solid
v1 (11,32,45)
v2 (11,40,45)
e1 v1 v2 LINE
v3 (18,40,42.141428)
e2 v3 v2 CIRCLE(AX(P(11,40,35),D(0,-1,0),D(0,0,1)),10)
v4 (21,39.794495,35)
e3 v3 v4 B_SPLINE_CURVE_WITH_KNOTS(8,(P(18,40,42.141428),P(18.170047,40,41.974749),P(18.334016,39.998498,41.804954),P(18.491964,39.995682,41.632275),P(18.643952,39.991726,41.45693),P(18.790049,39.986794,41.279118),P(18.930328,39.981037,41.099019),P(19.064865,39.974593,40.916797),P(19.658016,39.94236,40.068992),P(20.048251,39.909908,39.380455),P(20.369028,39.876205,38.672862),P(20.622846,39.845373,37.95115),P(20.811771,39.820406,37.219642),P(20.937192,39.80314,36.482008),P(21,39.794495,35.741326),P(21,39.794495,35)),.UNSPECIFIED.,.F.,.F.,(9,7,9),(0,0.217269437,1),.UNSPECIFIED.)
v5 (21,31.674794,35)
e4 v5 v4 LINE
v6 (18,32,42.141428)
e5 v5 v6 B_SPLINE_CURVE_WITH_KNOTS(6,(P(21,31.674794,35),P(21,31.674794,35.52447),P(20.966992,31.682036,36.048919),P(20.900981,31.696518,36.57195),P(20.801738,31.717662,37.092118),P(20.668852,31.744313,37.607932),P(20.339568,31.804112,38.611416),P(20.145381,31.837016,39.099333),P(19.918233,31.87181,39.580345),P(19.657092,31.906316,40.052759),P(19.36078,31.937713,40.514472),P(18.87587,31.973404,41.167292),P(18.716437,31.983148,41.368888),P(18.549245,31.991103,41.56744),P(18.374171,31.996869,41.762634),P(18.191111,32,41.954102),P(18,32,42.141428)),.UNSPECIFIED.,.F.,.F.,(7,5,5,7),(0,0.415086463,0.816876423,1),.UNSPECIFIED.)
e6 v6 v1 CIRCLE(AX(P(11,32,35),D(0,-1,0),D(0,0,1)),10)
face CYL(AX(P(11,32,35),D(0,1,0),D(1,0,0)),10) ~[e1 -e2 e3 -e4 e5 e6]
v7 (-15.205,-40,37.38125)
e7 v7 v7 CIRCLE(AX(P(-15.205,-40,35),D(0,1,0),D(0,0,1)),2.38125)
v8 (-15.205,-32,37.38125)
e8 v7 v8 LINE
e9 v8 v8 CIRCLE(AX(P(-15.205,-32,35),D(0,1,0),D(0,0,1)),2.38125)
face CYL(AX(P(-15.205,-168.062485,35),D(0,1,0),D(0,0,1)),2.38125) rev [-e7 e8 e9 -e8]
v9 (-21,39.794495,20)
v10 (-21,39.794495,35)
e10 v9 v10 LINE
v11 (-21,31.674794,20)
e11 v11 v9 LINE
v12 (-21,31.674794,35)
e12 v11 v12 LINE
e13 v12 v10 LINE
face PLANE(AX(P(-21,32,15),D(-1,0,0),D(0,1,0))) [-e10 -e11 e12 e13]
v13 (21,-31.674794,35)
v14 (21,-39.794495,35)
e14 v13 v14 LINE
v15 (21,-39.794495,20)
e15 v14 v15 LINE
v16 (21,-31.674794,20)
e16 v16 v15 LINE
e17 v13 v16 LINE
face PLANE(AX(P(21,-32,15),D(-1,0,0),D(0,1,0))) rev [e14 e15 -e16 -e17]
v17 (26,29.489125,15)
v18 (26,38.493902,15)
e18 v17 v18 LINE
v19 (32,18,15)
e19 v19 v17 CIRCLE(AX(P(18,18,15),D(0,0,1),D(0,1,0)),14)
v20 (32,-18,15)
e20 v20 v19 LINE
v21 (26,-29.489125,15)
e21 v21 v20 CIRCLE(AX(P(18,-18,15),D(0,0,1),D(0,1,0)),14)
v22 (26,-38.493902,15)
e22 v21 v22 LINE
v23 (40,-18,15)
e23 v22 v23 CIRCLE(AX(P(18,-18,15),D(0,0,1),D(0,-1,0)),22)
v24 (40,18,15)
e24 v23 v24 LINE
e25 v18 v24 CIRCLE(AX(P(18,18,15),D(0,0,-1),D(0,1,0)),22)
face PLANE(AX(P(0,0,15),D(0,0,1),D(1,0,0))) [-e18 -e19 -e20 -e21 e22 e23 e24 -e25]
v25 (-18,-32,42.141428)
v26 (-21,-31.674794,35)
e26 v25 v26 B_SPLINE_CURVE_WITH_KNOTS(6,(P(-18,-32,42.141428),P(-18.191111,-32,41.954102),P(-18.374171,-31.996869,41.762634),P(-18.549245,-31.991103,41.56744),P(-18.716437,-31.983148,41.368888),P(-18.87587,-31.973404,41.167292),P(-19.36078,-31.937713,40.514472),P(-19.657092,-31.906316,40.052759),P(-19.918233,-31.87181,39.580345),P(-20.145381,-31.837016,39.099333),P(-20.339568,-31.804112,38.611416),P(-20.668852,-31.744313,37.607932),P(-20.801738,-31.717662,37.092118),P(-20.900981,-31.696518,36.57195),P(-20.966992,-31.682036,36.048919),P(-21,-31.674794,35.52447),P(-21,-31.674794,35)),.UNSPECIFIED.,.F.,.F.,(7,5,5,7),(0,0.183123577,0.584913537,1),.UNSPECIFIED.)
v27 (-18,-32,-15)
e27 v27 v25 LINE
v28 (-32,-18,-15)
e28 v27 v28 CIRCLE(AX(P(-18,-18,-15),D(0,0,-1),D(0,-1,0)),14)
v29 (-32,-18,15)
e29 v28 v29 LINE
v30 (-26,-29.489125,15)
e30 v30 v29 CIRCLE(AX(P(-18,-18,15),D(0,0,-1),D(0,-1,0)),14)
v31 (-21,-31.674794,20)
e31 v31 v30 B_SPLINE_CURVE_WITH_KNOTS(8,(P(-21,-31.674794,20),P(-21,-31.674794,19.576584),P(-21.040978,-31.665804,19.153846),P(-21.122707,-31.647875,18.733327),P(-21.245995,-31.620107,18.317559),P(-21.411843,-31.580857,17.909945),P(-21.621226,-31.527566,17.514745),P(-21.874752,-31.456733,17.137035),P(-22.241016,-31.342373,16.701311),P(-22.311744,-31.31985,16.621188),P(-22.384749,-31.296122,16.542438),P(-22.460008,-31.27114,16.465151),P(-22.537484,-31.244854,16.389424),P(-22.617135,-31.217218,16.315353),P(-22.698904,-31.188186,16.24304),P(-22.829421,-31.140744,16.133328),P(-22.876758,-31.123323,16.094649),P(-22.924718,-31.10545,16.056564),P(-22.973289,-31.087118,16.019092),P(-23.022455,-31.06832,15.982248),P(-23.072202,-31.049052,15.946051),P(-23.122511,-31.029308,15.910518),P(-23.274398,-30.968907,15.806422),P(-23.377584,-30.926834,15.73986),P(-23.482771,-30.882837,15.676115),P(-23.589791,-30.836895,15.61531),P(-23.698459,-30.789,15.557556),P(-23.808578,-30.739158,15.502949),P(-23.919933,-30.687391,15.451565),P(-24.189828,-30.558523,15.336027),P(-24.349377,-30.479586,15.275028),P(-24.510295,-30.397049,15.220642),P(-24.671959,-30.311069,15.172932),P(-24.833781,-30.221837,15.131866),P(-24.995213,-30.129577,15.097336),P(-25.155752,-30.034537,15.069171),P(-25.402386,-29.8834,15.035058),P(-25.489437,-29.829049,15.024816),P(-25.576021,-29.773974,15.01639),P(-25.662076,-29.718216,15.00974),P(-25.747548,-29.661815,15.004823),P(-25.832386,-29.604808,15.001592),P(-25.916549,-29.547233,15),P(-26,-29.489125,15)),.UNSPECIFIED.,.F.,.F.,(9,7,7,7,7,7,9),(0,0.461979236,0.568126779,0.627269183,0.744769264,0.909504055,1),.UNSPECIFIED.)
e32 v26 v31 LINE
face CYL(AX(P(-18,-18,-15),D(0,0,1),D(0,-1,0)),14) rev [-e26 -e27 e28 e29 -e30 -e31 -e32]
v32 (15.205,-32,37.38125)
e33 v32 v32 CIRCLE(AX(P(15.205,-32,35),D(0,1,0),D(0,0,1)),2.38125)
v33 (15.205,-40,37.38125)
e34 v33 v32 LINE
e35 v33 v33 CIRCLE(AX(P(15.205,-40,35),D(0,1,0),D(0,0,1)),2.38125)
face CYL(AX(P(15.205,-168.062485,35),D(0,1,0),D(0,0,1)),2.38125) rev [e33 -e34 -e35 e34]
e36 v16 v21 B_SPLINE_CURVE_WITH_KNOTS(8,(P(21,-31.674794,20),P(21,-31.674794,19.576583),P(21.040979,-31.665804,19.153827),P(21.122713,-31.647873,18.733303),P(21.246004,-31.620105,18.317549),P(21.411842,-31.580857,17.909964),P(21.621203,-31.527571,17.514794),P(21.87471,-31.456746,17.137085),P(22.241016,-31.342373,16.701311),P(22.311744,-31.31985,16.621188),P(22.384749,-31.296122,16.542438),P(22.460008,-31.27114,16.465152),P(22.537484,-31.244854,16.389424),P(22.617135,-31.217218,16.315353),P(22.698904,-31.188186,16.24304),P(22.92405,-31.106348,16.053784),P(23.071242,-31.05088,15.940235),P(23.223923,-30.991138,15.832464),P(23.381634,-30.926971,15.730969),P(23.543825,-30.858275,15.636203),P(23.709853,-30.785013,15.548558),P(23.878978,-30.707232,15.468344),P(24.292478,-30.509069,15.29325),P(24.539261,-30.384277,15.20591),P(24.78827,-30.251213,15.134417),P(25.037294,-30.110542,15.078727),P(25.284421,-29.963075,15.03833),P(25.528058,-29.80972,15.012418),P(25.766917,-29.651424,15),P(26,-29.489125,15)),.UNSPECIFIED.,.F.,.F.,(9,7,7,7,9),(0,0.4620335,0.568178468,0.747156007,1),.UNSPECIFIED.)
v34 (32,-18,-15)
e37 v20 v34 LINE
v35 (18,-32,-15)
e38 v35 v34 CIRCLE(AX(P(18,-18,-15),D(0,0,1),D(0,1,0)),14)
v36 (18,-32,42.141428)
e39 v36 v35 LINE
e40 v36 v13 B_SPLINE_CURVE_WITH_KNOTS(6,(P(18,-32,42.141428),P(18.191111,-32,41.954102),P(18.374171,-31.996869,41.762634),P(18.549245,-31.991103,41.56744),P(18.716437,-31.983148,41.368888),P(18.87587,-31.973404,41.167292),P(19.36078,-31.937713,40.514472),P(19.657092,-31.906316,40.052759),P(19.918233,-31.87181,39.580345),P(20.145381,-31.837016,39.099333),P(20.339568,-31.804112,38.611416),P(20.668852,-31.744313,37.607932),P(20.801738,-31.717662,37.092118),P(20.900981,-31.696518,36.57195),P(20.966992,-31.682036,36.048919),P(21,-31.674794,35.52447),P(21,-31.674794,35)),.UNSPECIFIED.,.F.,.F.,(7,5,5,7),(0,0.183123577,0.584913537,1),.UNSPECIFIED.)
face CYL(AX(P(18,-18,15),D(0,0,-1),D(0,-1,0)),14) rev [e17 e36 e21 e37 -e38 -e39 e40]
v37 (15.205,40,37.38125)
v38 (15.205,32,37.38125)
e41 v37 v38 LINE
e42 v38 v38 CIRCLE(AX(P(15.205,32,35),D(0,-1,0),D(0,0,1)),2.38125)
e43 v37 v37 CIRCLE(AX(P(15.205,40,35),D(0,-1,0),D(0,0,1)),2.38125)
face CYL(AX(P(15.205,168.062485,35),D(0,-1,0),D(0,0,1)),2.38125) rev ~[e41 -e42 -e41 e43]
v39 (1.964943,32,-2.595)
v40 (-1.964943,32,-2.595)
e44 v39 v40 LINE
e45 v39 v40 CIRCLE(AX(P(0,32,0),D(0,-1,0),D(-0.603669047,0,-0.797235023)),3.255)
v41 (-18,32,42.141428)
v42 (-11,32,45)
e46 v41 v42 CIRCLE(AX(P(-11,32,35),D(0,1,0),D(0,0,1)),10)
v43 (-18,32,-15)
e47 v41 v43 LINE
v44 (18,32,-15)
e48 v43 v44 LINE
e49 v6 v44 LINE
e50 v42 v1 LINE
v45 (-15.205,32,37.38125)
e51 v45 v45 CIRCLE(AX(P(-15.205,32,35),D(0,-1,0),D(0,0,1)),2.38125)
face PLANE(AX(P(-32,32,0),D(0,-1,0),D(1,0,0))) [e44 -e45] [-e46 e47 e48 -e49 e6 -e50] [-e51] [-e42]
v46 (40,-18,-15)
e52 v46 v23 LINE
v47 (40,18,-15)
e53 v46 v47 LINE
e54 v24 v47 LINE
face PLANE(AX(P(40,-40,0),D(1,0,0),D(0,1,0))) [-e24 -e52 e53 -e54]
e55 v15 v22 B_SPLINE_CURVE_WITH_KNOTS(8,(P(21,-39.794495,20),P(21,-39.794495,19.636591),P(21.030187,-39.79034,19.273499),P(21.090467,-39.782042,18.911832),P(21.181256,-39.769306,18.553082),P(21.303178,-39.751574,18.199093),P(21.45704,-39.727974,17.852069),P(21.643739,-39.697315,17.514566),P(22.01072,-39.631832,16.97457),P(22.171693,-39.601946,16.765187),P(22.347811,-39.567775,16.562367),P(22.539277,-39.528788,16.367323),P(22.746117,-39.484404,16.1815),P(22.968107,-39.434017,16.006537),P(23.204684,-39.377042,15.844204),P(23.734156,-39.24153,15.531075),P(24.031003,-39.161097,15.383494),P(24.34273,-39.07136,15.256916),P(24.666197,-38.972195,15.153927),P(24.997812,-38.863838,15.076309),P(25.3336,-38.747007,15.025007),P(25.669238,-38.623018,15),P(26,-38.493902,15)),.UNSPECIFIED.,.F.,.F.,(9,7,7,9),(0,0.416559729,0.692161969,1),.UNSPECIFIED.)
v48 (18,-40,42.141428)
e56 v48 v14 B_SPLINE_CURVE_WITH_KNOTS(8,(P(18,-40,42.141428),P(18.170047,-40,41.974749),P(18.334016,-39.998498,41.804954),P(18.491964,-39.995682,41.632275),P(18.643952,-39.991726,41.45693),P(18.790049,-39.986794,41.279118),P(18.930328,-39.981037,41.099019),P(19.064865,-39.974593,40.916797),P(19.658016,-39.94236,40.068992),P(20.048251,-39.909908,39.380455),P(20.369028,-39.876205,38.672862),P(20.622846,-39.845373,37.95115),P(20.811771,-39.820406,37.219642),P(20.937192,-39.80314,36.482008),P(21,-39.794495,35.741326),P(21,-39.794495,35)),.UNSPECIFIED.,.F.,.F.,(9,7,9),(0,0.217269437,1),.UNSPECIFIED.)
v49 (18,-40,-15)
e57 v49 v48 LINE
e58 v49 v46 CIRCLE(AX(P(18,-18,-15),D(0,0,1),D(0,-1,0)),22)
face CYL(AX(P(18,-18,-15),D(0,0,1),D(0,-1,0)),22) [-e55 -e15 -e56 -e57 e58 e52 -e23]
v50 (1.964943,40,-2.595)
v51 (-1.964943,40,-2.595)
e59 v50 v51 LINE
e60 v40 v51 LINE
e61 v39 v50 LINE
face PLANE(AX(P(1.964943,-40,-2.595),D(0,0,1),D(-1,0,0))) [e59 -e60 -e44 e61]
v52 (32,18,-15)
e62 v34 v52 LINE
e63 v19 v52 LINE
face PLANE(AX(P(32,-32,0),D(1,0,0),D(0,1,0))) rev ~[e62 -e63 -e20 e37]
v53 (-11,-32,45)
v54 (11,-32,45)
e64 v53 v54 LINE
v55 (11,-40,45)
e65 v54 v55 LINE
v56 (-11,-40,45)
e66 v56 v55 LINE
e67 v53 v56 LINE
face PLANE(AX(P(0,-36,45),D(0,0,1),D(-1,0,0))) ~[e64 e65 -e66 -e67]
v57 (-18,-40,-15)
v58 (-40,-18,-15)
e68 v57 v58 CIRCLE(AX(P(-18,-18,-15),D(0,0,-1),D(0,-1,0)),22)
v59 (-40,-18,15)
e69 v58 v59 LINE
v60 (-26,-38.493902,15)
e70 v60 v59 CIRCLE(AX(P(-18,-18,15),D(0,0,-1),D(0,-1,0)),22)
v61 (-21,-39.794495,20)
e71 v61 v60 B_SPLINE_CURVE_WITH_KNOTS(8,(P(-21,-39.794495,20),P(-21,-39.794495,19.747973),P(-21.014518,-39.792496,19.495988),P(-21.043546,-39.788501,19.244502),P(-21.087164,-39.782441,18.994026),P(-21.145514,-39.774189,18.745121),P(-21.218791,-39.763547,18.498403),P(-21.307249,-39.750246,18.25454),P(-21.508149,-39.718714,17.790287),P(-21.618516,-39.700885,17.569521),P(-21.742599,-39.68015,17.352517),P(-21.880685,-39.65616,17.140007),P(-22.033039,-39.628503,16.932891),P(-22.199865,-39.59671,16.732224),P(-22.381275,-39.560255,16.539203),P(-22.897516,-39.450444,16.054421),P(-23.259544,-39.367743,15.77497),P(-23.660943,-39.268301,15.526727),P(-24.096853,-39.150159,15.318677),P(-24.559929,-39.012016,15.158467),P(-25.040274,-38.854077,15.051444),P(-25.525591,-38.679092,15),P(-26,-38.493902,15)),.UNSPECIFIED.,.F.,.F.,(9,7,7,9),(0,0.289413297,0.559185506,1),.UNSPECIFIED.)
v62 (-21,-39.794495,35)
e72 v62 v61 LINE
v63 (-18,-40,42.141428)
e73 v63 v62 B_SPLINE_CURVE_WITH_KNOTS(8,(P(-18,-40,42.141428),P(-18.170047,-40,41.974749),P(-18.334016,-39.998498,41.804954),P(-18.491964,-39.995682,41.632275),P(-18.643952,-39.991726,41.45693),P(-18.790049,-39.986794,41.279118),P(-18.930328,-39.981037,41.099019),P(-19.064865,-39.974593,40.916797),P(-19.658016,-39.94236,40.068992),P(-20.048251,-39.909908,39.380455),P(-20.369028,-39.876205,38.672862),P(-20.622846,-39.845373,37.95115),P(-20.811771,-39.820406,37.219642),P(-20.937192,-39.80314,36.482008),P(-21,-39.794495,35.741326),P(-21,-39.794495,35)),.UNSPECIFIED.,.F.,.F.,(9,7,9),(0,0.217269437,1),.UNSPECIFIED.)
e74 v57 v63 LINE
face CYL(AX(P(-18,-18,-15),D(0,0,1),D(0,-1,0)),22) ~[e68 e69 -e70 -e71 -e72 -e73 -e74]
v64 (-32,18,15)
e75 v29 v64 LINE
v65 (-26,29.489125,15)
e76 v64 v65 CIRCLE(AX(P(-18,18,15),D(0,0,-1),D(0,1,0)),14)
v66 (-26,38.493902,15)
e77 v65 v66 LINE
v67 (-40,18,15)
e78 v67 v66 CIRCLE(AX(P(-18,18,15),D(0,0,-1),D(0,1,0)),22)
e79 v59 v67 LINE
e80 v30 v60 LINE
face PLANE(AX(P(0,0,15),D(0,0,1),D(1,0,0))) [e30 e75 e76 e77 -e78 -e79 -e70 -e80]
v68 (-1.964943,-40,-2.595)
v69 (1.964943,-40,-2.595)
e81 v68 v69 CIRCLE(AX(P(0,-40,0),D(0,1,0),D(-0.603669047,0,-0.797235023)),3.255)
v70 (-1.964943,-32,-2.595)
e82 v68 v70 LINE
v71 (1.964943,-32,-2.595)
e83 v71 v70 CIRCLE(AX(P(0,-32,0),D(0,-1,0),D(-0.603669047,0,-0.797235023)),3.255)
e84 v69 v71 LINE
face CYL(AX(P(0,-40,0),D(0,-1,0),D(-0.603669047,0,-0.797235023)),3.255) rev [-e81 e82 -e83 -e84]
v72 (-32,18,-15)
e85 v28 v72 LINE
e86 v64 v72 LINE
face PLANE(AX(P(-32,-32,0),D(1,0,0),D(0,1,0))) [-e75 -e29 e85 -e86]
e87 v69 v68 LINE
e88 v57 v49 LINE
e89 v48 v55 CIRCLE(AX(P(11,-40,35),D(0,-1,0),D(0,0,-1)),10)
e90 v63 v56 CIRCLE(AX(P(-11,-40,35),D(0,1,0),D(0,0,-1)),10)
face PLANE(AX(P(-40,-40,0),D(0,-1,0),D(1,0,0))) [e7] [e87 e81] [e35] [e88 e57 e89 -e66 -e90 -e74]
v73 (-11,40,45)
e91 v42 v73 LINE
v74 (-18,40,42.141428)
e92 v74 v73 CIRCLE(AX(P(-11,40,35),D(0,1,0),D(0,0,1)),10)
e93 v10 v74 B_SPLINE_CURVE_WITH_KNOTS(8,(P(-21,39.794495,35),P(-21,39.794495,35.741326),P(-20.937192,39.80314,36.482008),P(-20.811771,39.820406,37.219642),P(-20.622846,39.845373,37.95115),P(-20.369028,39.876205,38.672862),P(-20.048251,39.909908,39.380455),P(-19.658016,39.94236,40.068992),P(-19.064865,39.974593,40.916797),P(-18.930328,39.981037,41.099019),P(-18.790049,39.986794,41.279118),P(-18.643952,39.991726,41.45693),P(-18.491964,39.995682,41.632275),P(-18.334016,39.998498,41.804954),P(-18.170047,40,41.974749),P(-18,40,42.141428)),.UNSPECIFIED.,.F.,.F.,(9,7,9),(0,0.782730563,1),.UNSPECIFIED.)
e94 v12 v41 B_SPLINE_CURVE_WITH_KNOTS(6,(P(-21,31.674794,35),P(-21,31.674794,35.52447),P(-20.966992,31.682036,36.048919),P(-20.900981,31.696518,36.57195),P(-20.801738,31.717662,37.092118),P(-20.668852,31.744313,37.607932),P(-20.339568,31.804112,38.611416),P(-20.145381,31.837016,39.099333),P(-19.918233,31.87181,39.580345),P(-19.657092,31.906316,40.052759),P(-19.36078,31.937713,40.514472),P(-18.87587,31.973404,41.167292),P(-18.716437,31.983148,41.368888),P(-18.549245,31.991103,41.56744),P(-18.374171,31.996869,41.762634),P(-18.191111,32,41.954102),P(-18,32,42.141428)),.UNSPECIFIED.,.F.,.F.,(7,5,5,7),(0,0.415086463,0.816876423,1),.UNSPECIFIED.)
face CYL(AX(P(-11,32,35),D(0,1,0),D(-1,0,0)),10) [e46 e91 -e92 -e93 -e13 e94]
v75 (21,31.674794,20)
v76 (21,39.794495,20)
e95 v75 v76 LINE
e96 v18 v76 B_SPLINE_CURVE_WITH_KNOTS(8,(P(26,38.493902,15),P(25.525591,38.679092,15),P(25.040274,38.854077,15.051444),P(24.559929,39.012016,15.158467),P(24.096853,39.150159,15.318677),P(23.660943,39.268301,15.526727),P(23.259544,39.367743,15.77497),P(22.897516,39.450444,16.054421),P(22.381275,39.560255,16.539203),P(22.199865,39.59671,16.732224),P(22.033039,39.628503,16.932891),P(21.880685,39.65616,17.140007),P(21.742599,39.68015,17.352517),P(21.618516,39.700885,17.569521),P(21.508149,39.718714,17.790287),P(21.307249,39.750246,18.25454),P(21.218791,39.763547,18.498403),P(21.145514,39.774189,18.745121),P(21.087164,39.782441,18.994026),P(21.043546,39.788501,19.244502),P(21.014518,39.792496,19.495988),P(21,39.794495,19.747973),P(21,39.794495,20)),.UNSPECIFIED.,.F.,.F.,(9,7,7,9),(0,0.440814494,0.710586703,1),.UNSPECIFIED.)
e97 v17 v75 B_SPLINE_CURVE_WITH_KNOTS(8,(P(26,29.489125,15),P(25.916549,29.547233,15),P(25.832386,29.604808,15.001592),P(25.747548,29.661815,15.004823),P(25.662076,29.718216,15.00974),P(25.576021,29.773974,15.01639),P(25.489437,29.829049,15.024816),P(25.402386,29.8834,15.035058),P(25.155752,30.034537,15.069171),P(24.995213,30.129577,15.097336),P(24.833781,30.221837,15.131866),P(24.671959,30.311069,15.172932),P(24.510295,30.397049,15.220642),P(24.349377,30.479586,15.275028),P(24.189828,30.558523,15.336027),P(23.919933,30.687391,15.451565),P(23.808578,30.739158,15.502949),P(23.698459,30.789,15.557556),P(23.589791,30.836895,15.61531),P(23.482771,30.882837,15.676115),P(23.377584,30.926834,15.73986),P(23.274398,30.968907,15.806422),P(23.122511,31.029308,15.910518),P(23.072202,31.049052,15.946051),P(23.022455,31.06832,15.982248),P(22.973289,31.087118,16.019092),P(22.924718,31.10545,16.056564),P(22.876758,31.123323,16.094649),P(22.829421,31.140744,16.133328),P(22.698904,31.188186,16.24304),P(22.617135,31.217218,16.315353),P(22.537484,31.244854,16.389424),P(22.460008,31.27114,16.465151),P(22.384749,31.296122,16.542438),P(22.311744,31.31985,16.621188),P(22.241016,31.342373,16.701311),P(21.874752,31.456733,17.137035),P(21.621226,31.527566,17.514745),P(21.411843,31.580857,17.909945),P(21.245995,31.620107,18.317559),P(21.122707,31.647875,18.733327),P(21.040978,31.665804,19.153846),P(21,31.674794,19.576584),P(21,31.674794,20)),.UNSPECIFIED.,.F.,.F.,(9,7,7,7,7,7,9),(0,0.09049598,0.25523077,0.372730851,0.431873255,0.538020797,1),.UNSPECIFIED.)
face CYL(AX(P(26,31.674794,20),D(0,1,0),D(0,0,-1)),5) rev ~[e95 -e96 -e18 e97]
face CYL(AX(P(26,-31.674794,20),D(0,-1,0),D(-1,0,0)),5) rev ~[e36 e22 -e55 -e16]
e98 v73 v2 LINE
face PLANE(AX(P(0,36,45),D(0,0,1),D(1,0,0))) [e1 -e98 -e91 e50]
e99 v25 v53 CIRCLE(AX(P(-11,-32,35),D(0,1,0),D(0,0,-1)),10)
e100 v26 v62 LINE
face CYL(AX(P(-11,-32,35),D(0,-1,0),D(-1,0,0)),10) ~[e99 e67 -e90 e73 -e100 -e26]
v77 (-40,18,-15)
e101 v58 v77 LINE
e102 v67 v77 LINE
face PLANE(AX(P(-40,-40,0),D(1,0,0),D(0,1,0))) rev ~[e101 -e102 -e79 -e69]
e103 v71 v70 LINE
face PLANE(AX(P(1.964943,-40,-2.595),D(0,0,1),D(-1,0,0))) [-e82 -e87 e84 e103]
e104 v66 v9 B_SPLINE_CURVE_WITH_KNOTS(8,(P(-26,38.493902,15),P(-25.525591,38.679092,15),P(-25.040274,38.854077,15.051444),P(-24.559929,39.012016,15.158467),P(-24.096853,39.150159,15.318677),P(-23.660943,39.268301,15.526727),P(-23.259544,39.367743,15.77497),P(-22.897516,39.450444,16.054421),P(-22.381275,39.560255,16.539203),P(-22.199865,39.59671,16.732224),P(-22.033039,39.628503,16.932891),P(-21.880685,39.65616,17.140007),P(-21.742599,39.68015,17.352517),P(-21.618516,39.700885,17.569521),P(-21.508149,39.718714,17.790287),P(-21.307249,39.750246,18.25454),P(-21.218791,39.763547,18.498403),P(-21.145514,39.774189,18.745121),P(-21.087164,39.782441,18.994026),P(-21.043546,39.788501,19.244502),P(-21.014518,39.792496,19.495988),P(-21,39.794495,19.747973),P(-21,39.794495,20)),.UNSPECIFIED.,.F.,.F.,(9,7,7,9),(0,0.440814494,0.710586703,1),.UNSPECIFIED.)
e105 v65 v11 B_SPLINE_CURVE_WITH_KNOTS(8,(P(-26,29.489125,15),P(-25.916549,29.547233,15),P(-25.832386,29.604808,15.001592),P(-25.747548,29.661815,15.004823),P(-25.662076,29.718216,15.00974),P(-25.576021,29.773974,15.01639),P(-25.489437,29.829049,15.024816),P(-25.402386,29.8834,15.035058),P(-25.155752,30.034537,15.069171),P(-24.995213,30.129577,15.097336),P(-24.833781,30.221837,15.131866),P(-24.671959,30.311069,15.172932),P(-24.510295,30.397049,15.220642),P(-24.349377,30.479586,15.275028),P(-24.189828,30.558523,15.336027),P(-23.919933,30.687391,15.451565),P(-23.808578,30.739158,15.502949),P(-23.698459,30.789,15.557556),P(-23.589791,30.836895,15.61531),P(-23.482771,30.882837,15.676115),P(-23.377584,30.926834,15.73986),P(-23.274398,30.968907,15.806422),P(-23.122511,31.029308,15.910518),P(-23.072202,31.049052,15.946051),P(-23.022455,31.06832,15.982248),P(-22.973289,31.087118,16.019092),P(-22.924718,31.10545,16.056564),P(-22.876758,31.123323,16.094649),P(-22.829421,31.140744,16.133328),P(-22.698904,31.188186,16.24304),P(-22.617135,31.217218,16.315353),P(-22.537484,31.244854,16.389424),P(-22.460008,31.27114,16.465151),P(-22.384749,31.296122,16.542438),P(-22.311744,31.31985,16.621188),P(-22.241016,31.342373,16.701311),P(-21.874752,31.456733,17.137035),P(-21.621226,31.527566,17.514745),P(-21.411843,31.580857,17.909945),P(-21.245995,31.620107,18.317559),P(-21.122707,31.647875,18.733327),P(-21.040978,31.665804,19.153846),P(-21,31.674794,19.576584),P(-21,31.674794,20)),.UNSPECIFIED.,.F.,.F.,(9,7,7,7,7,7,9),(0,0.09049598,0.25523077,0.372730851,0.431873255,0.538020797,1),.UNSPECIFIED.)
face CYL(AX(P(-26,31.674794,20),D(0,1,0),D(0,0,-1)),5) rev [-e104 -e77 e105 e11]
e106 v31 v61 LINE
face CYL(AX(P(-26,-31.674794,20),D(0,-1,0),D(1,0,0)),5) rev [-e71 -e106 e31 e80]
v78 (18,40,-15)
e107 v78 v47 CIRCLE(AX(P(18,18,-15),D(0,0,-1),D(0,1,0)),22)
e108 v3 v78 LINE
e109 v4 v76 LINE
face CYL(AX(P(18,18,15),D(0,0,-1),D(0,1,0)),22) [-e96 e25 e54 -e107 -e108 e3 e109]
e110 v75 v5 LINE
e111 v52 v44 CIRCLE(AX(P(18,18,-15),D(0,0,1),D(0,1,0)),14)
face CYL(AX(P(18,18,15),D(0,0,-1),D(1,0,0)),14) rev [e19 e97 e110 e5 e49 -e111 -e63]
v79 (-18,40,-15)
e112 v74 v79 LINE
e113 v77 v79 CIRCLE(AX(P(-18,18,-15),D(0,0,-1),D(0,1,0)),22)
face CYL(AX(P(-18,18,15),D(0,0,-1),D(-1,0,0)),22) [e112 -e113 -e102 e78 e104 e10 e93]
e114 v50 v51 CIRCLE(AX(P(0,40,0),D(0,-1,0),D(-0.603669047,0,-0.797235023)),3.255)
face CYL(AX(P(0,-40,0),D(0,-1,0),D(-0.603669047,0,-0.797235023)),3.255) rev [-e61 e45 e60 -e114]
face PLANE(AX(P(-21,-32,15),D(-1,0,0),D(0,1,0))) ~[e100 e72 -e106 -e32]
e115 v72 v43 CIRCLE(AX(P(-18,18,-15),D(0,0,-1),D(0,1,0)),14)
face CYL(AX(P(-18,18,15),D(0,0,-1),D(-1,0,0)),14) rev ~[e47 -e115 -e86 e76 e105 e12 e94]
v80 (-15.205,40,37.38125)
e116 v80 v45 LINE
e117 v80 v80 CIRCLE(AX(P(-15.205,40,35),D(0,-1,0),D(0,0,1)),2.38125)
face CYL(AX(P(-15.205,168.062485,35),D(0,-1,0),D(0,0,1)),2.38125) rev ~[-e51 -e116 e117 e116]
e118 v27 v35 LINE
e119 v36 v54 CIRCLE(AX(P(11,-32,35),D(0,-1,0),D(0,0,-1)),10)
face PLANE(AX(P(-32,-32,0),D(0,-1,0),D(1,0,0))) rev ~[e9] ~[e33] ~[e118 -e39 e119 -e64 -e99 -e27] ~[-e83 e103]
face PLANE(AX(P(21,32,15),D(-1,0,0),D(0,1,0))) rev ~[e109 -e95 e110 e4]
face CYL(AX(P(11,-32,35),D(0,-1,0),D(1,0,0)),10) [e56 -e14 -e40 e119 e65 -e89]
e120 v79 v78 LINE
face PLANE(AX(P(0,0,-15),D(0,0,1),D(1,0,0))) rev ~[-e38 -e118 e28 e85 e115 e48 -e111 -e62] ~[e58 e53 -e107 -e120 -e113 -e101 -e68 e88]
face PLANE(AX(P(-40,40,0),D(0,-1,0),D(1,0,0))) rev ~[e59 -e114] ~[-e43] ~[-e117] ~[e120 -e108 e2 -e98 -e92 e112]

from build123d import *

# Parameters (mm, degrees)
ESQUISSE1_W                             = 80
ESQUISSE1_H                             = 80
ESQUISSE1_W_2                           = 64
ESQUISSE1_H_2                           = 64
BOSS_EXTRU_1_DEPTH                      = 15
ESQUISSE7_W                             = 42
ESQUISSE7_H                             = 8
BOSS_EXTRU_4_DEPTH                      = 30
PER_AGE_POUR_CROUS_AUTO_BLOQUANTS_300_D = 4.7625
CONG_1_R                                = 10
CONG_1_OF_SYM_TRIE2_R                   = 10
CONG_2_R                                = 22
CONG_3_R                                = 14
CONG_4_R                                = 5
ENL_V_MAT_EXTRU_3_DEPTH                 = 124.389626959


with BuildPart() as part:
    # Esquisse1 → Boss.-Extru.1 (new, symmetric)
    with BuildSketch(Plane.XY):
        Rectangle(ESQUISSE1_W, ESQUISSE1_H)
        Rectangle(ESQUISSE1_W_2, ESQUISSE1_H_2, mode=Mode.SUBTRACT)
    extrude(amount=BOSS_EXTRU_1_DEPTH, both=True)

    # Esquisse7 → Boss.-Extru.4 (add)
    with BuildSketch(Plane.XY.offset(15)):
        with Locations((0, 36)):
            Rectangle(ESQUISSE7_W, ESQUISSE7_H)
    boss_extru_4 = extrude(amount=BOSS_EXTRU_4_DEPTH)

    # Perçage pour écrous auto-bloquants 300® #6 (SP)1 (through all)
    with Locations(Plane(origin=(0, 40, 0), x_dir=(0, 0, -1), z_dir=(0, 1, 0))):
        with Locations((-35, -15.205), (-35, 15.205)):
            per_age_pour_crous_auto_bloquants_300 = Hole(PER_AGE_POUR_CROUS_AUTO_BLOQUANTS_300_D / 2)

    # Congé1
    cong_1_edges = [part.edges().sort_by_distance(p)[0] for p in [
        (21, 36, 45),
        (-21, 36, 45),
    ]]
    fillet(cong_1_edges, radius=CONG_1_R)

    # Symétrie2: Boss.-Extru.4, Perçage pour écrous auto-bloquants 300® #6 (SP)1 across plane
    add(boss_extru_4.mirror(Plane.ZX))
    add(per_age_pour_crous_auto_bloquants_300.mirror(Plane.ZX), mode=Mode.SUBTRACT)

    # Congé1 of Symétrie2
    cong_1_of_sym_trie2_edges = [part.edges().sort_by_distance(p)[0] for p in [
        (21, -36, 45),
        (-21, -36, 45),
    ]]
    fillet(cong_1_of_sym_trie2_edges, radius=CONG_1_OF_SYM_TRIE2_R)

    # Congé2
    cong_2_edges = [part.edges().sort_by_distance(p)[0] for p in [
        (40, -40, 0),
        (-40, -40, 0),
        (-40, 40, 0),
        (40, 40, 0),
    ]]
    fillet(cong_2_edges, radius=CONG_2_R)

    # Congé3
    cong_3_edges = [part.edges().sort_by_distance(p)[0] for p in [
        (-32, 32, 0),
        (-32, -32, 0),
        (32, -32, 0),
        (32, 32, 0),
    ]]
    fillet(cong_3_edges, radius=CONG_3_R)

    # Congé4
    cong_4_edges = [part.edges().sort_by_distance(p)[0] for p in [
        (-21, -35.734644524, 15),
        (-21, 35.734644524, 15),
        (21, 35.734644524, 15),
        (21, -35.734644524, 15),
    ]]
    fillet(cong_4_edges, radius=CONG_4_R)

    # Esquisse11 → Enlèv. mat.-Extru.3 (cut, through all)
    with BuildSketch(Plane(origin=(0, -40, -40), x_dir=(1, 0, 0), z_dir=(0, 1, 0))):
        with BuildLine():
            Line((1.964942747, -37.405), (-1.964942747, -37.405))
            ThreePointArc((-1.964942747, -37.405), (0, -43.255), (1.964942747, -37.405))
        make_face()
    extrude(amount=ENL_V_MAT_EXTRU_3_DEPTH, mode=Mode.SUBTRACT)


solid = part.part
